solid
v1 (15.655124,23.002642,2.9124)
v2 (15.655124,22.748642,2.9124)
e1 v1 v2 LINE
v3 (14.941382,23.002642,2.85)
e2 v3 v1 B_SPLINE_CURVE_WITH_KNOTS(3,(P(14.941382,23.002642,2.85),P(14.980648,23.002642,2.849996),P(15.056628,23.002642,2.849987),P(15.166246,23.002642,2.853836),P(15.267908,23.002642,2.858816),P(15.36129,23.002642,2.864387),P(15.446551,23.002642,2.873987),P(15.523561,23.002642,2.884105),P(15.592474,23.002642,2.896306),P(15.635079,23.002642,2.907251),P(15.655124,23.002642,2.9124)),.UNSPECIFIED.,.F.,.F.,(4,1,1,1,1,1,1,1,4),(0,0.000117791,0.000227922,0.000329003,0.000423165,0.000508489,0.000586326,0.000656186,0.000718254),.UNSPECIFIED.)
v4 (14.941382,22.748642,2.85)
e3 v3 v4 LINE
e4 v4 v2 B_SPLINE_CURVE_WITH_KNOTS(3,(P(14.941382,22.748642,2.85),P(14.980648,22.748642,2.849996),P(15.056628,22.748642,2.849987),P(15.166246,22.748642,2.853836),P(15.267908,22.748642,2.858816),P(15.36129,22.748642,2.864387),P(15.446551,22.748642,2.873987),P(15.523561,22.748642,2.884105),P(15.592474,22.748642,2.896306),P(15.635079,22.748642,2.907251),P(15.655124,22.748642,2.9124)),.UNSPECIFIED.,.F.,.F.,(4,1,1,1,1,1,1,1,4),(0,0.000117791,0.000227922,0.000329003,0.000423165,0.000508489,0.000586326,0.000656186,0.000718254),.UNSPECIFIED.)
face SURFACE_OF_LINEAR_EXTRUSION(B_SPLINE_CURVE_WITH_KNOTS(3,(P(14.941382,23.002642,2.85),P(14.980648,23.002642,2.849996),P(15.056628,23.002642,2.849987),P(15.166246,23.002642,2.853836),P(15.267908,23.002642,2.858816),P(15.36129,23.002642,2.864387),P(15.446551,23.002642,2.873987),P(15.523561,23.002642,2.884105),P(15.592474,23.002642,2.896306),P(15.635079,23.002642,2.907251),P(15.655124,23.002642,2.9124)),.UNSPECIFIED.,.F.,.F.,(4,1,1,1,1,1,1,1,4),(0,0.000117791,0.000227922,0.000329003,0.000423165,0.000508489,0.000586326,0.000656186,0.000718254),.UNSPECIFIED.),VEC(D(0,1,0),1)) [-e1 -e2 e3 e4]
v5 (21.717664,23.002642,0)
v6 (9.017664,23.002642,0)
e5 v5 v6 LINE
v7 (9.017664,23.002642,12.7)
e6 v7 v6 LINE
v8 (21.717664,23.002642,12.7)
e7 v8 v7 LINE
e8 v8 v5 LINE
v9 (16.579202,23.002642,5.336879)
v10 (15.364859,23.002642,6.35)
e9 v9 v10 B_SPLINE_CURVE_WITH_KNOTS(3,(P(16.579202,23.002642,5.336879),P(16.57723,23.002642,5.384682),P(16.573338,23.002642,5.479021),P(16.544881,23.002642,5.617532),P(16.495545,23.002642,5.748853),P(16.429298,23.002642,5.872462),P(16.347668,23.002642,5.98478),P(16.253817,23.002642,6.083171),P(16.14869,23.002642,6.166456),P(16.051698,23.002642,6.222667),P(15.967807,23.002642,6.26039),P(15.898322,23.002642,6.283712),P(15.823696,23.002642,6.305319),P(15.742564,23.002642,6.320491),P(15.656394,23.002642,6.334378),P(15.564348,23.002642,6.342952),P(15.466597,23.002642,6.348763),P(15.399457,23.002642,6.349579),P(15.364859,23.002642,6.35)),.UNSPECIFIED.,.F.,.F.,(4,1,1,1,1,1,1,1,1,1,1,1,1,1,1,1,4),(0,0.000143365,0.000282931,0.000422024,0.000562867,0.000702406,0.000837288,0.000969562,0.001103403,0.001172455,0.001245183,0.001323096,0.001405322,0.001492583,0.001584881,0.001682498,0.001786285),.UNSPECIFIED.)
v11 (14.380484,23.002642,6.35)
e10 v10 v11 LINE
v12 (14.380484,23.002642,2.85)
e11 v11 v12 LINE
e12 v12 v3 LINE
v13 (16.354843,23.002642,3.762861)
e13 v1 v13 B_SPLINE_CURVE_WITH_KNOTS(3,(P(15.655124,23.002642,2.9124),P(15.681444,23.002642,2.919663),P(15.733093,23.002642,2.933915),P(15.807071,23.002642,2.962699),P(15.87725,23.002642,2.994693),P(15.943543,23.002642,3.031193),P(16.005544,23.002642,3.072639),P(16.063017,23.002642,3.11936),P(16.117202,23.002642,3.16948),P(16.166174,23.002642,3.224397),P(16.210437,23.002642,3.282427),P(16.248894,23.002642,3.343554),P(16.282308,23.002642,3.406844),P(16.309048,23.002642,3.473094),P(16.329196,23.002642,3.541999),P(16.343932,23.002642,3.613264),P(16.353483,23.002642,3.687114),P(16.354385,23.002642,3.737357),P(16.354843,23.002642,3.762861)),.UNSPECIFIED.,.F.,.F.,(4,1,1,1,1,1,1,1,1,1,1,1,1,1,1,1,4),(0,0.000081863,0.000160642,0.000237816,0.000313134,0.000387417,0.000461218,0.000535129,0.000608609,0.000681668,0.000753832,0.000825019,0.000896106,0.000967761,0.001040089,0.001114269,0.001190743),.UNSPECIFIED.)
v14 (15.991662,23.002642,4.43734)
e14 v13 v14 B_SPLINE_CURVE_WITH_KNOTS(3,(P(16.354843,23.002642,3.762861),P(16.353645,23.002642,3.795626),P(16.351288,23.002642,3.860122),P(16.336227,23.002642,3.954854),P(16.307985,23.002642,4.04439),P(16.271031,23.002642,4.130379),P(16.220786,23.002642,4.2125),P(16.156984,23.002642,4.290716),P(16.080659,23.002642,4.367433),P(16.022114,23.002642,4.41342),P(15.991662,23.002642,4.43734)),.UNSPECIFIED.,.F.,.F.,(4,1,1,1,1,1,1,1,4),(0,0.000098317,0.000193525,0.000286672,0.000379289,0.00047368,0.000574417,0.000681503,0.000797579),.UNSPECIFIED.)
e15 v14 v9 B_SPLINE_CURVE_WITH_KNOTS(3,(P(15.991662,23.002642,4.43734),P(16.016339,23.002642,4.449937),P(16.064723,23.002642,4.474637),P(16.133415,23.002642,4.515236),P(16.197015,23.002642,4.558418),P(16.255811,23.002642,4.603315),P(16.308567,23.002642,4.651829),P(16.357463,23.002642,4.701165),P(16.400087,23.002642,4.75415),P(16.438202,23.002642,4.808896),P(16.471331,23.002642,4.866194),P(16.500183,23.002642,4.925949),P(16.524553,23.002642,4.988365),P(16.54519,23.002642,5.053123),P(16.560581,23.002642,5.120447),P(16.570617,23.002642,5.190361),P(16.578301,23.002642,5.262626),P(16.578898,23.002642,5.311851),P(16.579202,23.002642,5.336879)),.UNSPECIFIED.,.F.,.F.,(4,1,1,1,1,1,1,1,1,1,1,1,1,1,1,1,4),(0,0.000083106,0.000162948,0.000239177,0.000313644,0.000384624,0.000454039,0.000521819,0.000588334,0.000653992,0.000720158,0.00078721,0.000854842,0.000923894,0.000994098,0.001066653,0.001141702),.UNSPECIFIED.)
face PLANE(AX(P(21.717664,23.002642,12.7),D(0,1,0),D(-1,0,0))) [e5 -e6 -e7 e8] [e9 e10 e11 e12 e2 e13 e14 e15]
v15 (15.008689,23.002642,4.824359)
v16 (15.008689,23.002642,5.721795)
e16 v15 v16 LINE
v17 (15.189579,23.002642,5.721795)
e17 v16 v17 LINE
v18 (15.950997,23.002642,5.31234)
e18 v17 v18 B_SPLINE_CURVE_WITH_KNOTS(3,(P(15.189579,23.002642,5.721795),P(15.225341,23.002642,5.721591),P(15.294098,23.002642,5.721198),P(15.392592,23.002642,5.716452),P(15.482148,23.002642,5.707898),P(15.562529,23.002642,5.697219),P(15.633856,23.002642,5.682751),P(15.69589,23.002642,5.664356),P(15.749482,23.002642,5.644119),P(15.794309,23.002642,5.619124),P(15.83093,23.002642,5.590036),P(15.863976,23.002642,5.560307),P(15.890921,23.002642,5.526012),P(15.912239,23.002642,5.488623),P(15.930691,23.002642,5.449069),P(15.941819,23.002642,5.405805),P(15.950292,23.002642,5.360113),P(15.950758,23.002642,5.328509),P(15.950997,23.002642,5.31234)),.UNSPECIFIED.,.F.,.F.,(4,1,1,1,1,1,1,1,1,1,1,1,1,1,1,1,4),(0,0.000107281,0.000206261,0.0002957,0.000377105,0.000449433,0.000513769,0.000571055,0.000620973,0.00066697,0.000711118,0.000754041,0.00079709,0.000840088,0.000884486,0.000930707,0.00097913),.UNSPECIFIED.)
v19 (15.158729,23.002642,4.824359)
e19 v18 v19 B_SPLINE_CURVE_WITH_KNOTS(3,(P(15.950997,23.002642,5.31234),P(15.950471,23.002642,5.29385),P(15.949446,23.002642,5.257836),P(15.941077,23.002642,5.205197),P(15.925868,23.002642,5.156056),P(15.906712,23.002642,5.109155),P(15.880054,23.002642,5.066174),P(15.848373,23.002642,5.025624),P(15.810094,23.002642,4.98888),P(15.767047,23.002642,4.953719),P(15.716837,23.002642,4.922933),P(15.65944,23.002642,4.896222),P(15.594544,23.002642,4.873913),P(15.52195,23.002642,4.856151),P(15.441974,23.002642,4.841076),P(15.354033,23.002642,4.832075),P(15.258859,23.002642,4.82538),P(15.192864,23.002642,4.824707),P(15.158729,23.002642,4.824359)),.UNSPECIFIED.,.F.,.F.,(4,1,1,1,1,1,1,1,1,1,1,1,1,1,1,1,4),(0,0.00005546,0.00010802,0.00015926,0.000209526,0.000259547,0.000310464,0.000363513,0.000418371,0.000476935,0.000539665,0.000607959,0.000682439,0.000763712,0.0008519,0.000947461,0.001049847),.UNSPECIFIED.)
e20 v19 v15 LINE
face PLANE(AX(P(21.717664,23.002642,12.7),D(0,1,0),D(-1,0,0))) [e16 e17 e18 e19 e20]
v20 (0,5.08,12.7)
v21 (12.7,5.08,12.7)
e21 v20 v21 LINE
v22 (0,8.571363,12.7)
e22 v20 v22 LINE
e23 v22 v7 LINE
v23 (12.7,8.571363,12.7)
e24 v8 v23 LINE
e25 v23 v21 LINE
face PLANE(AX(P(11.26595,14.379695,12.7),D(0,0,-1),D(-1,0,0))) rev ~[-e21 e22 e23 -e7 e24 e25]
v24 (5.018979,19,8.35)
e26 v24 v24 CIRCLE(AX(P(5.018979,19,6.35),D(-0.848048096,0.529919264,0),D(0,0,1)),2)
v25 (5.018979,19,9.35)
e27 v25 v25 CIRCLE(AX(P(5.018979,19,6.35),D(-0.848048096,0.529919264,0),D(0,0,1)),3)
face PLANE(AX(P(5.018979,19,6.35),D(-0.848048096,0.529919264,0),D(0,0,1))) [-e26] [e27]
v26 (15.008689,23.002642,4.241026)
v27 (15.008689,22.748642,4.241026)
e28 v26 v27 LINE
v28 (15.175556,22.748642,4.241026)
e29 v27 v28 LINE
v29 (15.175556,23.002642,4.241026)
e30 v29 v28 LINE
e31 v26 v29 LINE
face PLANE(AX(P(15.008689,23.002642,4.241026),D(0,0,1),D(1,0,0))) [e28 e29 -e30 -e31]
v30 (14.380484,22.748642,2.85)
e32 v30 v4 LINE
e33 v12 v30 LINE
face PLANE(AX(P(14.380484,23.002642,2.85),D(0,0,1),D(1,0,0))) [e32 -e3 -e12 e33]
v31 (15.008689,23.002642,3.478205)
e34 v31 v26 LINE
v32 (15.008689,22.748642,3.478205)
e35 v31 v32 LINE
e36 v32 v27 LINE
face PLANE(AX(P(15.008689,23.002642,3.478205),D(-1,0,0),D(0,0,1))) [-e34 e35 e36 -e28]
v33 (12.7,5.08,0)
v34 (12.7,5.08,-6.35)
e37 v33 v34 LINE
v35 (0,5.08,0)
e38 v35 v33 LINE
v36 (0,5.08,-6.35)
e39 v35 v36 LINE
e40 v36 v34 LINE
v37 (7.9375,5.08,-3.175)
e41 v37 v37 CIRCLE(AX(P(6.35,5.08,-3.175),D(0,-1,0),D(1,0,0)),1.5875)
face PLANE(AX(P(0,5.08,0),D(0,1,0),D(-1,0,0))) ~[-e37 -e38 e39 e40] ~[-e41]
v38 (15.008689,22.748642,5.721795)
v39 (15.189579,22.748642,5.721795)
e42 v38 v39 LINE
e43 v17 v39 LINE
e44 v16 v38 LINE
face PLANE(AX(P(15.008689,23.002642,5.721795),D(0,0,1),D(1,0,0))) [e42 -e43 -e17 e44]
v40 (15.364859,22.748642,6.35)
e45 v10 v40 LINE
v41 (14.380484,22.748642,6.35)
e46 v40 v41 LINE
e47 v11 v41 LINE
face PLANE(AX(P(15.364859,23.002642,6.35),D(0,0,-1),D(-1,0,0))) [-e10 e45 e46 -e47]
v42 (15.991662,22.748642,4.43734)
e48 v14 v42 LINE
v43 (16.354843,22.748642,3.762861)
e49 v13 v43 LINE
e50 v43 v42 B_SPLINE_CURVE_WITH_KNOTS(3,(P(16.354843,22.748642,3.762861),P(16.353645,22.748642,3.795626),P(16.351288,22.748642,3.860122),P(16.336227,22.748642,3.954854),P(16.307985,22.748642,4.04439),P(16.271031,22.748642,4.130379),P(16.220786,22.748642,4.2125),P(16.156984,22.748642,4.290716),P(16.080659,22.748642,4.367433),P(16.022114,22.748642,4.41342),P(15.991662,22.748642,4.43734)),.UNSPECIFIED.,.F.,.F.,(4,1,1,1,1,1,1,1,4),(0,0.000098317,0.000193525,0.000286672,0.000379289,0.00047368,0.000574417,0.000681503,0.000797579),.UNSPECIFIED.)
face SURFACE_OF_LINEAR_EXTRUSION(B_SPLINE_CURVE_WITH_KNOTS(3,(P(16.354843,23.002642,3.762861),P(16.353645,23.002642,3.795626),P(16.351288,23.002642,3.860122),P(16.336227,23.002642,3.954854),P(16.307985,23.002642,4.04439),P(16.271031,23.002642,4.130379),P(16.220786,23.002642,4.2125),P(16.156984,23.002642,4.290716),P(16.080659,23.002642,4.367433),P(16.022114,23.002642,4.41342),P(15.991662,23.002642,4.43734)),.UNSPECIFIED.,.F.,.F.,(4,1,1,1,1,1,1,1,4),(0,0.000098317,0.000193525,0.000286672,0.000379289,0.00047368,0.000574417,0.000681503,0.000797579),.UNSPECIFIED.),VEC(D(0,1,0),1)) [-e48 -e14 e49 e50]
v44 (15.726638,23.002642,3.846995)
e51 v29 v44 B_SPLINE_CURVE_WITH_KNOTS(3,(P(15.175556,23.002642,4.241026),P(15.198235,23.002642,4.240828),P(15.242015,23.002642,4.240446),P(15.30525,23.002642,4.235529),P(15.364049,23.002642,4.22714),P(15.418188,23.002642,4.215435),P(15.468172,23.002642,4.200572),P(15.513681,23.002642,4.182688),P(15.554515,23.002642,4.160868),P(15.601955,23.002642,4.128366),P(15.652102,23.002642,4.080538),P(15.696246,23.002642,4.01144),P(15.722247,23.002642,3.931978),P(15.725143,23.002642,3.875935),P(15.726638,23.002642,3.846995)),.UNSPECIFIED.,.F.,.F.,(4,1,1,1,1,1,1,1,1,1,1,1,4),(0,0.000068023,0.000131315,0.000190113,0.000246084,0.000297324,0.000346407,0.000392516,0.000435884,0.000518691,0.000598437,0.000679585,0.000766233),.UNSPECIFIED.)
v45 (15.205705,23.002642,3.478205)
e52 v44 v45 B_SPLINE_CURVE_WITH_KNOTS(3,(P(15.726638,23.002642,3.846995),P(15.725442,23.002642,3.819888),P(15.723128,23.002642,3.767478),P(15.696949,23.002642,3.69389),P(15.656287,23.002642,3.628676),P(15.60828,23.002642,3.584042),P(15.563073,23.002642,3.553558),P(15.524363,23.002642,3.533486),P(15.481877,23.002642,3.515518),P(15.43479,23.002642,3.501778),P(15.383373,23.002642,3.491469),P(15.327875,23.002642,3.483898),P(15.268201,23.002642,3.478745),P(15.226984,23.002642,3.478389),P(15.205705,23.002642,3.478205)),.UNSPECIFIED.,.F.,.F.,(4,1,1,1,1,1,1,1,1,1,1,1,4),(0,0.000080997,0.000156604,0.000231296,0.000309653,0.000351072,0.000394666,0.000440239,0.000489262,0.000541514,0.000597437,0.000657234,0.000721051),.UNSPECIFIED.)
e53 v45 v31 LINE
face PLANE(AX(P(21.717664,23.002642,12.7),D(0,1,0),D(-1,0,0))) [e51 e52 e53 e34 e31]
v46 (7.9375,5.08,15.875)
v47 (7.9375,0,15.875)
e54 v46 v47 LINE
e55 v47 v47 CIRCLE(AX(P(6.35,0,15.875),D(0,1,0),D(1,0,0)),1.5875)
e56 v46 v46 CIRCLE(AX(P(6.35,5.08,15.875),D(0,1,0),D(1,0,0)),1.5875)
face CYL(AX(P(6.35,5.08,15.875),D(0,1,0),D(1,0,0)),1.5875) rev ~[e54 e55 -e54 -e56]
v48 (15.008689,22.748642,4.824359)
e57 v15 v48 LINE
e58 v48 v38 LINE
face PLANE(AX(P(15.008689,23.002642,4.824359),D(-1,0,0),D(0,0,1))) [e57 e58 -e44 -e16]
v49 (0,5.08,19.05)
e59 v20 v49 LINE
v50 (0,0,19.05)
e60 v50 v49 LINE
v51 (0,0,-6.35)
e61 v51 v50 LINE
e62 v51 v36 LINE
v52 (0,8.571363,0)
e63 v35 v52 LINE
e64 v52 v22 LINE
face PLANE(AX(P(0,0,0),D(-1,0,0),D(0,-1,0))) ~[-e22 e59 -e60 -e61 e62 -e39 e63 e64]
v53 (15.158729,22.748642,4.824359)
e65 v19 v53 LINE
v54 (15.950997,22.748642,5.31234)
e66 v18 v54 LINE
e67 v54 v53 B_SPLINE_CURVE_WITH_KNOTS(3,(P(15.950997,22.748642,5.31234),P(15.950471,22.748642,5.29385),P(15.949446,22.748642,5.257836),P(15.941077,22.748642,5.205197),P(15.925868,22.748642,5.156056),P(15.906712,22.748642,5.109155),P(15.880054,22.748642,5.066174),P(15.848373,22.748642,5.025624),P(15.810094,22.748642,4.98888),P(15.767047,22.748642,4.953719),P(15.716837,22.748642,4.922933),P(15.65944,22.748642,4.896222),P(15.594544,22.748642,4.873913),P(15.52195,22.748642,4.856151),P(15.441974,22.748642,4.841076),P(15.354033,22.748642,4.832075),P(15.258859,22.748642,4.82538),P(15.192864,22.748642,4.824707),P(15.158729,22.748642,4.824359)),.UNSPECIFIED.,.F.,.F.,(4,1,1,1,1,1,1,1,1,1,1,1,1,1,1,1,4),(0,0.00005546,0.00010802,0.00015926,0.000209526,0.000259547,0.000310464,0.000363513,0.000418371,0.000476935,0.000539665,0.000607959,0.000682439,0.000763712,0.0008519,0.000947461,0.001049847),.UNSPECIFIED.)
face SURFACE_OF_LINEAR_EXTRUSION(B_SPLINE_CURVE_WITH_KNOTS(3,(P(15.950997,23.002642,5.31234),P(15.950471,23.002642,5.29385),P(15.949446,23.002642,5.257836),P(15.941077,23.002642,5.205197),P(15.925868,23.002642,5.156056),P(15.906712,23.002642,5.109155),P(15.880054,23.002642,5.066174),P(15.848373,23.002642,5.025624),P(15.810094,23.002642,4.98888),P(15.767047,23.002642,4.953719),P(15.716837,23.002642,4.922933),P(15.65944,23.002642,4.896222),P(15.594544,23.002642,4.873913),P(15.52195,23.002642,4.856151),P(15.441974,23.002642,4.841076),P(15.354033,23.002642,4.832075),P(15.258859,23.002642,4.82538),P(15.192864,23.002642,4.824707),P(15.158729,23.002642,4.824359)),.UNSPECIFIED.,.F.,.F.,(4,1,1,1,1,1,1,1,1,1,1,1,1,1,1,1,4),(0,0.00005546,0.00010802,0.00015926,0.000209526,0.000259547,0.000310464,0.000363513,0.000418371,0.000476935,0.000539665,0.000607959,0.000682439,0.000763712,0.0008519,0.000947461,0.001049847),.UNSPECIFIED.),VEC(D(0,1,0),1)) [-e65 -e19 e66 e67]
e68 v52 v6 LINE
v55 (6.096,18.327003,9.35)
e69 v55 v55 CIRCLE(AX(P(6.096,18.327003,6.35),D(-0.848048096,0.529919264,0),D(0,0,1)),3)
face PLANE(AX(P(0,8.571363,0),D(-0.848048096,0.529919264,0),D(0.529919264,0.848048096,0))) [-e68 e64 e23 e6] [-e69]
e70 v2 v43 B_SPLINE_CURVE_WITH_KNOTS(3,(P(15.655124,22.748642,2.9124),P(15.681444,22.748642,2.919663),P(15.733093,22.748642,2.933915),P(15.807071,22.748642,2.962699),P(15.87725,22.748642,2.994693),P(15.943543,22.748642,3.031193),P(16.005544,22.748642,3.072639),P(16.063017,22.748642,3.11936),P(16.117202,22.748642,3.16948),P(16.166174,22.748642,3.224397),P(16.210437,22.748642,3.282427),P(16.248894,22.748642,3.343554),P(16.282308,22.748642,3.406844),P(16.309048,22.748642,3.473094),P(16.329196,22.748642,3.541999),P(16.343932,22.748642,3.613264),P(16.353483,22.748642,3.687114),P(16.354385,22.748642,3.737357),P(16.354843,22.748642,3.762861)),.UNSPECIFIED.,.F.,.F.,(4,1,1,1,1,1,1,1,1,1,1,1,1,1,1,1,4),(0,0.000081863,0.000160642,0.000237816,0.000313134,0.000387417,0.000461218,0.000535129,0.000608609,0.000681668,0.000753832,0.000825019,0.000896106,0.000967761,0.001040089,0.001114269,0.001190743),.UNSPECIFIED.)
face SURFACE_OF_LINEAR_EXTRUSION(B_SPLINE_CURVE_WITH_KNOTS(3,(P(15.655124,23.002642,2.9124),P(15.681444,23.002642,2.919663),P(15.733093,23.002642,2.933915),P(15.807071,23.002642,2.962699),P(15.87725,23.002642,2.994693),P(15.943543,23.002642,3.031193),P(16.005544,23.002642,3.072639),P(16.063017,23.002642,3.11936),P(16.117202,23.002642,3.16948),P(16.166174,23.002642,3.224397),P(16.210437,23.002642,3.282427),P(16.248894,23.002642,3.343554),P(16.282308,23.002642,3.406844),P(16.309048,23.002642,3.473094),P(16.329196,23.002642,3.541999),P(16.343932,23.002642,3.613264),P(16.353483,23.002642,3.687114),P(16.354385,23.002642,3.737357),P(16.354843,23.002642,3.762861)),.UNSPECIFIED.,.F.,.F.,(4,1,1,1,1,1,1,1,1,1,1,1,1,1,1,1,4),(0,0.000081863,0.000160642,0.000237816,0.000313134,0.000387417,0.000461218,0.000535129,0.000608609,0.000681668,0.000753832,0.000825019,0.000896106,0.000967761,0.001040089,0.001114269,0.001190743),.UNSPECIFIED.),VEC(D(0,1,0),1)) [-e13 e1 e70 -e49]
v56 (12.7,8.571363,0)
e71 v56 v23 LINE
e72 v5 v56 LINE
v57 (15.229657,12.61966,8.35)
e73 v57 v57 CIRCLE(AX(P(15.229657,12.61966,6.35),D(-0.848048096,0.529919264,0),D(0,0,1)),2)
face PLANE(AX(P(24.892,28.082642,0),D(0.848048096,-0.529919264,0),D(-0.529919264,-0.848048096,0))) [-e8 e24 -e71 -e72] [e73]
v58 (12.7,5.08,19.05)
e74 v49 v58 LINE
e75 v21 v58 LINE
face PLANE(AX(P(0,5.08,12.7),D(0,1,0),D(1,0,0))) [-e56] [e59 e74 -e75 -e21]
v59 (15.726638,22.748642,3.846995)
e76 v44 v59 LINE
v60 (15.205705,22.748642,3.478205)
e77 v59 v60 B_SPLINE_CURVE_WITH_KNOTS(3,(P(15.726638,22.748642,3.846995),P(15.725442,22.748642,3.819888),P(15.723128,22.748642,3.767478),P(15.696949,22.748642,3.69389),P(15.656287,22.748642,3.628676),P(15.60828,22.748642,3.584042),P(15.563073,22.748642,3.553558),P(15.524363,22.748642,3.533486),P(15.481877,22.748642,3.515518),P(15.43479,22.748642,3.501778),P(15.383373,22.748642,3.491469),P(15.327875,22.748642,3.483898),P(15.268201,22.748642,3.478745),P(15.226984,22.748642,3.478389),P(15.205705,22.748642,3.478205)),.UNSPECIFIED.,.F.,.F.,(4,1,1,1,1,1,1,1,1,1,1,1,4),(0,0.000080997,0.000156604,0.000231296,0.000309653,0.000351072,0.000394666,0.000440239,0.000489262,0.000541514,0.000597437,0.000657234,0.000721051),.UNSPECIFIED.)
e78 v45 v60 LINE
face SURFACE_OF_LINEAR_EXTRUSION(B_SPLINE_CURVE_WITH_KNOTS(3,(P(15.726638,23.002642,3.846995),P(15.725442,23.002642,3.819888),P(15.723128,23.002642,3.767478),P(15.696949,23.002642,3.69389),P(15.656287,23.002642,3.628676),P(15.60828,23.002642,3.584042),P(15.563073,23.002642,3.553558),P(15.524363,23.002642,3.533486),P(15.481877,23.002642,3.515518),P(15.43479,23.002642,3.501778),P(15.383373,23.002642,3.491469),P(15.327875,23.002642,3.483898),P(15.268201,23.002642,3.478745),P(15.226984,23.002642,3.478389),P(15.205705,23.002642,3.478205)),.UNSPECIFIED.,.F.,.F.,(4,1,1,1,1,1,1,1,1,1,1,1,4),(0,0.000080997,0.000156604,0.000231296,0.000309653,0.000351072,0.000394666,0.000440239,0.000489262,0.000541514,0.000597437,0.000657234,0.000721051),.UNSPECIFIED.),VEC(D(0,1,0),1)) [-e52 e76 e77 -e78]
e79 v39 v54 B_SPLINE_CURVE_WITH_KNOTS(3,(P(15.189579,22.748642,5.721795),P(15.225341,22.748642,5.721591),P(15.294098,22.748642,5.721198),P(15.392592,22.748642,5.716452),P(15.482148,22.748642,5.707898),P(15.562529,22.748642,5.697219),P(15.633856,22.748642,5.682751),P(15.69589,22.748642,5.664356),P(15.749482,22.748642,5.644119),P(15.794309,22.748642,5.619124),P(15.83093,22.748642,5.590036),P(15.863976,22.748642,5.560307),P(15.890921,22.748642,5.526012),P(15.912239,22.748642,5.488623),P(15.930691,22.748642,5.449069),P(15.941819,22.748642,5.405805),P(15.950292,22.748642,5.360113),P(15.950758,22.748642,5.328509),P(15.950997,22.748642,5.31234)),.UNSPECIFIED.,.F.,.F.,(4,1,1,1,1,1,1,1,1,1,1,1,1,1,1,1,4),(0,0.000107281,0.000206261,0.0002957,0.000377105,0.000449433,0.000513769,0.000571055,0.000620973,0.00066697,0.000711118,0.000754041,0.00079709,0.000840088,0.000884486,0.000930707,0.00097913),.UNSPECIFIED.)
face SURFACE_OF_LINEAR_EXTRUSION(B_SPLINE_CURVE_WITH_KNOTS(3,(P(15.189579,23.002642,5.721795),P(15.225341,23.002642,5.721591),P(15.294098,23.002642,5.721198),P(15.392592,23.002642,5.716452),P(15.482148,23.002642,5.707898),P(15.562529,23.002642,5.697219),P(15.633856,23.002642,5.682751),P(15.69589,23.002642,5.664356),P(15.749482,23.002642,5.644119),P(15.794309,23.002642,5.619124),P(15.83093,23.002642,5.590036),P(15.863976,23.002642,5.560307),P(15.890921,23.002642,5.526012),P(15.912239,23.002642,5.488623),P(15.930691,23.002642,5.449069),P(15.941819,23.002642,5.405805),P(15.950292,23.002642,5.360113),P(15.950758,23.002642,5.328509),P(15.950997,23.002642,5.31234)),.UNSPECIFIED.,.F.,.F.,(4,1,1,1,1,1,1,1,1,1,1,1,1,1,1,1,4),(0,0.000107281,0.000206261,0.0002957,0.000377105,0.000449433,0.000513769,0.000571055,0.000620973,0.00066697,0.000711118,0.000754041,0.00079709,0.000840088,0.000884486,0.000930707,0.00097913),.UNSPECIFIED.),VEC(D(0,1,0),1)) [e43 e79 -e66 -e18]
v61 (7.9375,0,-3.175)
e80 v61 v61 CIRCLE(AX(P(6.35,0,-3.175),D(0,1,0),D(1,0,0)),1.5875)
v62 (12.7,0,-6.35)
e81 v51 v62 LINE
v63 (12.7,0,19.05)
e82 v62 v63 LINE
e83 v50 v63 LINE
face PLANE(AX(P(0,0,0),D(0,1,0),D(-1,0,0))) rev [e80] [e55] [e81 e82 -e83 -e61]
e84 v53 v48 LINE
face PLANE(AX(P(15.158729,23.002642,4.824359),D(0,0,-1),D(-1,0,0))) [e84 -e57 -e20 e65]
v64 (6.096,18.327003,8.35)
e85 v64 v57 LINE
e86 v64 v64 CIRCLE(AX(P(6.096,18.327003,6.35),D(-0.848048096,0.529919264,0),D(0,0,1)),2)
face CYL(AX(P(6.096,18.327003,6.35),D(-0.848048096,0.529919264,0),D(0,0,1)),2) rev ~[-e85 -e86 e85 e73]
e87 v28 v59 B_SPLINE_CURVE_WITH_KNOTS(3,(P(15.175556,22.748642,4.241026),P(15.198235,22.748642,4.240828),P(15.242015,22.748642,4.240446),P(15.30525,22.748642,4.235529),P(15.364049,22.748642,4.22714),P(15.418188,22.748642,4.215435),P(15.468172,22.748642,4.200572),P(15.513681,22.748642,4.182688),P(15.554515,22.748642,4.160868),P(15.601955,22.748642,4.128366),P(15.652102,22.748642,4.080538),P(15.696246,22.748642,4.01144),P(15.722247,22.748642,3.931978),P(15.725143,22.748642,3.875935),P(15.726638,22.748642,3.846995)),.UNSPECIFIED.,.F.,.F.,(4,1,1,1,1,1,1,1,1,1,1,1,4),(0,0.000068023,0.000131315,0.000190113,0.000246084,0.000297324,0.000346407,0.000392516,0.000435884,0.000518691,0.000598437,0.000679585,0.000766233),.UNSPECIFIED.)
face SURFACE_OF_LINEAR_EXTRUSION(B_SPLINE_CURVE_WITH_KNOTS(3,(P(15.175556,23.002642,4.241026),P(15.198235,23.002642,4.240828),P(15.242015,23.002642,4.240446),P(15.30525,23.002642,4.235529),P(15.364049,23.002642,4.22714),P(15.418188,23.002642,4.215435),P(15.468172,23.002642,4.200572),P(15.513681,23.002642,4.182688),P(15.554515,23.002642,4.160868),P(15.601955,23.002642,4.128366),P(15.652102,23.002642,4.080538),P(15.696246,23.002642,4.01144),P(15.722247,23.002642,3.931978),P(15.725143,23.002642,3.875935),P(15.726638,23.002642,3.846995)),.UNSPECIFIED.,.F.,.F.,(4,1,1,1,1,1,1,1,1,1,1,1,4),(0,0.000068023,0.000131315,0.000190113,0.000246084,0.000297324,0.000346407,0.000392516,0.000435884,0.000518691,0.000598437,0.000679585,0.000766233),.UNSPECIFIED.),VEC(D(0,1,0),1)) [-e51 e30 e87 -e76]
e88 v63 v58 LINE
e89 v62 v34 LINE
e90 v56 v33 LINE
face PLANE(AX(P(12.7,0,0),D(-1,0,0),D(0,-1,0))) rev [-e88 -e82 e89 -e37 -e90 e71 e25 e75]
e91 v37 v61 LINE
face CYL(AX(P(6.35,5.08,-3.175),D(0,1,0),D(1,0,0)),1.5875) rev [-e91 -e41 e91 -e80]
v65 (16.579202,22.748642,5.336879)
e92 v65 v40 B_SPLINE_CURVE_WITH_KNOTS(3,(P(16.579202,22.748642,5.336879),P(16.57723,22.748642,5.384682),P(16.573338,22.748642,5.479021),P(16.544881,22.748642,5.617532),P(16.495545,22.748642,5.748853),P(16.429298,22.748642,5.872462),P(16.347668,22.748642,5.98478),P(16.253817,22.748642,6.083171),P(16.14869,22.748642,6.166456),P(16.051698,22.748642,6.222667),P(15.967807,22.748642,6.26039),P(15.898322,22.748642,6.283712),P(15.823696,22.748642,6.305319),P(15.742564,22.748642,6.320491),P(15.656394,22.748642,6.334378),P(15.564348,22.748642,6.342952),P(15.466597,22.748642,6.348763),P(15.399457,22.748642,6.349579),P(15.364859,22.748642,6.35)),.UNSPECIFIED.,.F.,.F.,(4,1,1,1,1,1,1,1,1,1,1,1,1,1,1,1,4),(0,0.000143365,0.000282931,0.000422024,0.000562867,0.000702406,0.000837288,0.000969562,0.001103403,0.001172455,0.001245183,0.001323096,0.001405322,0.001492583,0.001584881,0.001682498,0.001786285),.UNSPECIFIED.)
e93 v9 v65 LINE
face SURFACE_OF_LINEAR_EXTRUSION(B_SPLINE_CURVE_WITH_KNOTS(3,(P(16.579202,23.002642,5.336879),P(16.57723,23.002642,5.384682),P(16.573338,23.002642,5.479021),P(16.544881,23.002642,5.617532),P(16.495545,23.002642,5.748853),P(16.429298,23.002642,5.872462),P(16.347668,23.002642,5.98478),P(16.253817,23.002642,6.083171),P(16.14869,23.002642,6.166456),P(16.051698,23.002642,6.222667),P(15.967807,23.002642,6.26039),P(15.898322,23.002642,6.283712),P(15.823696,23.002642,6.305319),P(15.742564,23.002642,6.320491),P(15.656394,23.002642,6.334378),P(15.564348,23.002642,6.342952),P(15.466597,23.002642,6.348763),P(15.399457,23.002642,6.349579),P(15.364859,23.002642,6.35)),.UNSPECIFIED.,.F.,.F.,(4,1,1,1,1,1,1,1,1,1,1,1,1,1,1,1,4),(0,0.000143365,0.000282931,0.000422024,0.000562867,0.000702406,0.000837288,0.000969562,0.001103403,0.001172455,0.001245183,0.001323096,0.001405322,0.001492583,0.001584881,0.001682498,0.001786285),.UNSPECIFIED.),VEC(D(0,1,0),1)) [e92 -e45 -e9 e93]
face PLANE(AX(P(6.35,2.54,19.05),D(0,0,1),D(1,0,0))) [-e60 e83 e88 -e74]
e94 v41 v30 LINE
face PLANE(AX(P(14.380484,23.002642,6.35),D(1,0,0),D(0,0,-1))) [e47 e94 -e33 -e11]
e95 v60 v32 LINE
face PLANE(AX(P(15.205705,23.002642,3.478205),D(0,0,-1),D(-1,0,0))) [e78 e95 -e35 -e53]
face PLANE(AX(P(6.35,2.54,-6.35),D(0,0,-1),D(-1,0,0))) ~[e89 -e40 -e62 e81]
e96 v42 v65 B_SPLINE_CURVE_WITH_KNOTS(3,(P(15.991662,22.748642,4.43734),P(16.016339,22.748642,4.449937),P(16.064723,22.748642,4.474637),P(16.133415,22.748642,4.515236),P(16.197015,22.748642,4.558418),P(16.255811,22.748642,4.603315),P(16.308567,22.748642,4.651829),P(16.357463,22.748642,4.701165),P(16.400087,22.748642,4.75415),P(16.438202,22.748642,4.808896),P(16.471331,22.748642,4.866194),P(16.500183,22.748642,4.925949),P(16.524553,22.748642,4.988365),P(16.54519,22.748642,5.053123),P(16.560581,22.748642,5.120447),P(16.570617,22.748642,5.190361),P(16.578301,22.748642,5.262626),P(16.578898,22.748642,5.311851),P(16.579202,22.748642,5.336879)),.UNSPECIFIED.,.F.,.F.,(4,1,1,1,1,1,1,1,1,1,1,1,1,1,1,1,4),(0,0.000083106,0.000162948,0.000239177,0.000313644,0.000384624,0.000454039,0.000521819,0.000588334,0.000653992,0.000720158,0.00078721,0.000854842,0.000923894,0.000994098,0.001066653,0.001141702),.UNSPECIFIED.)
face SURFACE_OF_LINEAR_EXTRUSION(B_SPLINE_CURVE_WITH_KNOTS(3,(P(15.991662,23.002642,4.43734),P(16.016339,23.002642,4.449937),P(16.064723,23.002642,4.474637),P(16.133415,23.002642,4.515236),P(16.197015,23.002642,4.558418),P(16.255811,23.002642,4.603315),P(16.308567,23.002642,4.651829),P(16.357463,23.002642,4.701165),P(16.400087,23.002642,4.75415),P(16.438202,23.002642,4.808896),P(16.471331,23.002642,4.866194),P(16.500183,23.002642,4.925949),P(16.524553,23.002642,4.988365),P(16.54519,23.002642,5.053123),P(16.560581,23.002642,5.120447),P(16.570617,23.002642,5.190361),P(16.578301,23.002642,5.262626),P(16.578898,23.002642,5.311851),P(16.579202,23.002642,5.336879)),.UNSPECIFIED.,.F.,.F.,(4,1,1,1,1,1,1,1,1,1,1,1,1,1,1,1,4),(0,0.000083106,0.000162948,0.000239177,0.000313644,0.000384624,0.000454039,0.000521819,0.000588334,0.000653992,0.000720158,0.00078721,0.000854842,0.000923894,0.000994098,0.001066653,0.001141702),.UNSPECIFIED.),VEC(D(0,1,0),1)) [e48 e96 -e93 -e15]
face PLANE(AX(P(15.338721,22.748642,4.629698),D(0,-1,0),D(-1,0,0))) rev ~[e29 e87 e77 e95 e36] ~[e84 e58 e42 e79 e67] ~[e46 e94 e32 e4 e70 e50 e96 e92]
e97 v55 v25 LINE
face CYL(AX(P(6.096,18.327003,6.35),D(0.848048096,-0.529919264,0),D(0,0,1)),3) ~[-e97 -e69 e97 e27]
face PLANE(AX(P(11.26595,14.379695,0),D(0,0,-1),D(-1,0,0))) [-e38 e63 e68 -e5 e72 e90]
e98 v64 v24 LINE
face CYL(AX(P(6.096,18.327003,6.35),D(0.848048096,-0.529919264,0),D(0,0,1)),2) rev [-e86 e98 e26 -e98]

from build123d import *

# Parameters (mm, degrees)
BOSS_EXTRUDE3_DEPTH = 12.7
SKETCH8_R           = 2
CUT_EXTRUDE5_DEPTH  = 12.7
CUT_EXTRUDE7_DEPTH  = 12.7
SKETCH10_W          = 12.7
SKETCH10_H          = 5.08
BOSS_EXTRUDE4_DEPTH = 6.35
SKETCH11_R          = 1.5875
CUT_EXTRUDE8_DEPTH  = 12.7
SKETCH13_R          = 3
SKETCH13_R_2        = 2
BOSS_EXTRUDE5_DEPTH = 1.27
CUT_EXTRUDE10_DEPTH = 0.254


with BuildPart() as part:
    # Sketch7 → Boss-Extrude3 (new body)
    with BuildSketch(Plane.XY):
        Polygon((0, 8.571363245), (12.192, 28.082641823), (24.892, 28.082641823), (12.7, 8.571363245), (12.7, 0), (0, 0), align=None)
    extrude(amount=BOSS_EXTRUDE3_DEPTH)

    # Sketch8 → Cut-Extrude5 (cut)
    with BuildSketch(Plane(origin=(-3.851945127, 2.406962455, 0), x_dir=(0, 0, 1), z_dir=(-0.848048096, 0.529919264, 0))):
        with Locations((6.35, 18.772567442)):
            Circle(SKETCH8_R)
    extrude(amount=-CUT_EXTRUDE5_DEPTH, mode=Mode.SUBTRACT)

    # Sketch9 → Cut-Extrude7 (cut)
    with BuildSketch(Plane.XY.offset(12.7)):
        Polygon((21.717663692, 23.002641823), (9.017663692, 23.002641823), (12.192, 28.082641823), (24.892, 28.082641823), align=None)
    extrude(amount=-CUT_EXTRUDE7_DEPTH, mode=Mode.SUBTRACT)

    # Sketch10 → Boss-Extrude4 (add)
    with BuildSketch(Plane.XY.offset(12.7)):
        with Locations((6.35, 2.54)):
            Rectangle(SKETCH10_W, SKETCH10_H)
    boss_extrude4 = extrude(amount=BOSS_EXTRUDE4_DEPTH)

    # Sketch11 → Cut-Extrude8 (cut)
    with BuildSketch(Plane(origin=(0, 5.08, 0), x_dir=(1, 0, 0), z_dir=(0, 1, 0))):
        with Locations((6.35, -15.875)):
            Circle(SKETCH11_R)
    cut_extrude8 = extrude(amount=-CUT_EXTRUDE8_DEPTH, mode=Mode.SUBTRACT)

    # Mirror2: Boss-Extrude4, Cut-Extrude8 across plane
    add(boss_extrude4.mirror(Plane.XY.offset(6.35)))
    add(cut_extrude8.mirror(Plane.XY.offset(6.35)), mode=Mode.SUBTRACT)

    # Sketch13 → Boss-Extrude5 (add)
    with BuildSketch(Plane(origin=(-3.851945127, 2.406962455, 0), x_dir=(0, 0, 1), z_dir=(-0.848048096, 0.529919264, 0))):
        with Locations((6.35, 18.772567442)):
            Circle(SKETCH13_R)
        with Locations((6.35, 18.772567442)):
            Circle(SKETCH13_R_2, mode=Mode.SUBTRACT)
    extrude(amount=BOSS_EXTRUDE5_DEPTH)

    # Sketch17 → Cut-Extrude10 (cut)
    with BuildSketch(Plane(origin=(0, 23.002641823, 0), x_dir=(1, 0, 0), z_dir=(0, 1, 0))):
        with BuildLine():
            Line((14.380484205, -6.35), (14.380484205, -2.85))
            Line((14.380484205, -2.85), (14.941381641, -2.85))
            add(Edge.make_bspline(
                [(14.941381641, -2.85), (14.980647969, -2.849995519), (15.056627568, -2.849986848), (15.166246302, -2.853836298), (15.267908419, -2.858815992), (15.361290393, -2.864387113), (15.446551165, -2.873987267), (15.523561083, -2.88410478), (15.592474012, -2.896305878), (15.635079132, -2.907250641), (15.655123628, -2.91239984)],
                knots=[0, 0, 0, 0, 0.000117791, 0.000227922, 0.000329003, 0.000423165, 0.000508489, 0.000586326, 0.000656186, 0.000718254, 0.000718254, 0.000718254, 0.000718254], degree=3))
            add(Edge.make_bspline(
                [(15.655123628, -2.91239984), (15.681444087, -2.919662877), (15.733093276, -2.933915288), (15.807071397, -2.962698647), (15.877249964, -2.994693392), (15.943543291, -3.031193412), (16.005544311, -3.072639364), (16.063017398, -3.119360176), (16.117202106, -3.169480477), (16.166174458, -3.224397106), (16.210437395, -3.282426696), (16.248893952, -3.343554044), (16.28230777, -3.406844471), (16.309047578, -3.473094446), (16.32919552, -3.54199887), (16.343931641, -3.61326351), (16.353482643, -3.687113865), (16.354385087, -3.737356675), (16.354843179, -3.762860577)],
                knots=[0, 0, 0, 0, 8.1863e-05, 0.000160642, 0.000237816, 0.000313134, 0.000387417, 0.000461218, 0.000535129, 0.000608609, 0.000681668, 0.000753832, 0.000825019, 0.000896106, 0.000967761, 0.001040089, 0.001114269, 0.001190743, 0.001190743, 0.001190743, 0.001190743], degree=3))
            add(Edge.make_bspline(
                [(16.354843179, -3.762860577), (16.353645404, -3.795626396), (16.351287729, -3.860121885), (16.336226745, -3.954854089), (16.307985053, -4.044389639), (16.271031486, -4.130378639), (16.220786188, -4.212500352), (16.156984378, -4.290715729), (16.080659434, -4.367433141), (16.022113989, -4.413420054), (15.99166209, -4.437339744)],
                knots=[0, 0, 0, 0, 9.8317e-05, 0.000193525, 0.000286672, 0.000379289, 0.00047368, 0.000574417, 0.000681503, 0.000797579, 0.000797579, 0.000797579, 0.000797579], degree=3))
            add(Edge.make_bspline(
                [(15.99166209, -4.437339744), (16.016338848, -4.449937015), (16.064723145, -4.474636779), (16.133414631, -4.515235817), (16.197015449, -4.558418043), (16.255810766, -4.603314613), (16.308567282, -4.651828759), (16.357463403, -4.701165027), (16.400086847, -4.754150182), (16.438202016, -4.808895731), (16.471331101, -4.866194396), (16.500182881, -4.925949414), (16.524552945, -4.988364919), (16.545190145, -5.053123267), (16.560581374, -5.120447198), (16.570616783, -5.190360788), (16.57830052, -5.262625597), (16.578898242, -5.311850581), (16.579202154, -5.336879006)],
                knots=[0, 0, 0, 0, 8.3106e-05, 0.000162948, 0.000239177, 0.000313644, 0.000384624, 0.000454039, 0.000521819, 0.000588334, 0.000653992, 0.000720158, 0.00078721, 0.000854842, 0.000923894, 0.000994098, 0.001066653, 0.001141702, 0.001141702, 0.001141702, 0.001141702], degree=3))
            add(Edge.make_bspline(
                [(16.579202154, -5.336879006), (16.577229969, -5.384681869), (16.573337872, -5.479020625), (16.544880751, -5.617531587), (16.495545146, -5.748852541), (16.429297601, -5.872461563), (16.34766788, -5.984780374), (16.25381711, -6.083170677), (16.148690152, -6.166455884), (16.051697827, -6.222666938), (15.967807104, -6.260389811), (15.898321986, -6.28371247), (15.823696442, -6.305318547), (15.742563511, -6.32049078), (15.656394023, -6.334378075), (15.564347819, -6.34295238), (15.466596934, -6.348762974), (15.3994574, -6.349579322), (15.364859205, -6.35)],
                knots=[0, 0, 0, 0, 0.000143365, 0.000282931, 0.000422024, 0.000562867, 0.000702406, 0.000837288, 0.000969562, 0.001103403, 0.001172455, 0.001245183, 0.001323096, 0.001405322, 0.001492583, 0.001584881, 0.001682498, 0.001786285, 0.001786285, 0.001786285, 0.001786285], degree=3))
            Line((15.364859205, -6.35), (14.380484205, -6.35))
        make_face()
        with BuildLine():
            Line((15.008689333, -3.478205128), (15.008689333, -4.241025641))
            Line((15.008689333, -4.241025641), (15.175556321, -4.241025641))
            add(Edge.make_bspline(
                [(15.175556321, -4.241025641), (15.198235043, -4.240827874), (15.242014945, -4.240446097), (15.305250369, -4.235528937), (15.364049102, -4.227139958), (15.418188132, -4.215435223), (15.468171784, -4.200571914), (15.513680747, -4.182688154), (15.554514928, -4.160868022), (15.601954802, -4.128365973), (15.65210217, -4.080537752), (15.696246334, -4.011439977), (15.722246952, -3.9319778), (15.725142719, -3.875934919), (15.726638051, -3.846995192)],
                knots=[0, 0, 0, 0, 6.8023e-05, 0.000131315, 0.000190113, 0.000246084, 0.000297324, 0.000346407, 0.000392516, 0.000435884, 0.000518691, 0.000598437, 0.000679585, 0.000766233, 0.000766233, 0.000766233, 0.000766233], degree=3))
            add(Edge.make_bspline(
                [(15.726638051, -3.846995192), (15.725441512, -3.81988833), (15.723128051, -3.7674783), (15.696948772, -3.693889951), (15.656287176, -3.628675613), (15.608280446, -3.584041731), (15.563072782, -3.553558106), (15.524363206, -3.533485938), (15.481876539, -3.515517537), (15.434790286, -3.50177846), (15.383373334, -3.491469141), (15.327875445, -3.48389818), (15.268200865, -3.478745062), (15.226983506, -3.478388967), (15.205704558, -3.478205128)],
                knots=[0, 0, 0, 0, 8.0997e-05, 0.000156604, 0.000231296, 0.000309653, 0.000351072, 0.000394666, 0.000440239, 0.000489262, 0.000541514, 0.000597437, 0.000657234, 0.000721051, 0.000721051, 0.000721051, 0.000721051], degree=3))
            Line((15.205704558, -3.478205128), (15.008689333, -3.478205128))
        make_face(mode=Mode.SUBTRACT)
        with BuildLine():
            Line((15.008689333, -4.824358974), (15.008689333, -5.721794872))
            Line((15.008689333, -5.721794872), (15.189578756, -5.721794872))
            add(Edge.make_bspline(
                [(15.189578756, -5.721794872), (15.225340826, -5.721590564), (15.294097866, -5.721197758), (15.392592205, -5.716451722), (15.482148183, -5.707897829), (15.56252851, -5.697218983), (15.633856304, -5.682750816), (15.695890459, -5.664356397), (15.749481695, -5.644119331), (15.794308675, -5.619124153), (15.830929749, -5.590035963), (15.863976429, -5.560307135), (15.890920633, -5.526012123), (15.91223939, -5.488623117), (15.930690736, -5.449068886), (15.941819286, -5.405804853), (15.950292172, -5.36011326), (15.950758458, -5.328509373), (15.950997026, -5.312339744)],
                knots=[0, 0, 0, 0, 0.000107281, 0.000206261, 0.0002957, 0.000377105, 0.000449433, 0.000513769, 0.000571055, 0.000620973, 0.00066697, 0.000711118, 0.000754041, 0.00079709, 0.000840088, 0.000884486, 0.000930707, 0.00097913, 0.00097913, 0.00097913, 0.00097913], degree=3))
            add(Edge.make_bspline(
                [(15.950997026, -5.312339744), (15.950470915, -5.293849518), (15.949446194, -5.257835532), (15.941077284, -5.205197249), (15.925868241, -5.156055919), (15.906711709, -5.109154932), (15.880054377, -5.066173507), (15.848373048, -5.02562422), (15.810093916, -4.988880195), (15.767046798, -4.953719015), (15.716836597, -4.922933498), (15.659439756, -4.896221608), (15.594544464, -4.873912821), (15.5219497, -4.856150551), (15.441973715, -4.841075958), (15.354032772, -4.832074761), (15.258859273, -4.825380176), (15.19286442, -4.82470711), (15.158729397, -4.824358974)],
                knots=[0, 0, 0, 0, 5.546e-05, 0.00010802, 0.00015926, 0.000209526, 0.000259547, 0.000310464, 0.000363513, 0.000418371, 0.000476935, 0.000539665, 0.000607959, 0.000682439, 0.000763712, 0.0008519, 0.000947461, 0.001049847, 0.001049847, 0.001049847, 0.001049847], degree=3))
            Line((15.158729397, -4.824358974), (15.008689333, -4.824358974))
        make_face(mode=Mode.SUBTRACT)
    extrude(amount=-CUT_EXTRUDE10_DEPTH, mode=Mode.SUBTRACT)


solid = part.part
